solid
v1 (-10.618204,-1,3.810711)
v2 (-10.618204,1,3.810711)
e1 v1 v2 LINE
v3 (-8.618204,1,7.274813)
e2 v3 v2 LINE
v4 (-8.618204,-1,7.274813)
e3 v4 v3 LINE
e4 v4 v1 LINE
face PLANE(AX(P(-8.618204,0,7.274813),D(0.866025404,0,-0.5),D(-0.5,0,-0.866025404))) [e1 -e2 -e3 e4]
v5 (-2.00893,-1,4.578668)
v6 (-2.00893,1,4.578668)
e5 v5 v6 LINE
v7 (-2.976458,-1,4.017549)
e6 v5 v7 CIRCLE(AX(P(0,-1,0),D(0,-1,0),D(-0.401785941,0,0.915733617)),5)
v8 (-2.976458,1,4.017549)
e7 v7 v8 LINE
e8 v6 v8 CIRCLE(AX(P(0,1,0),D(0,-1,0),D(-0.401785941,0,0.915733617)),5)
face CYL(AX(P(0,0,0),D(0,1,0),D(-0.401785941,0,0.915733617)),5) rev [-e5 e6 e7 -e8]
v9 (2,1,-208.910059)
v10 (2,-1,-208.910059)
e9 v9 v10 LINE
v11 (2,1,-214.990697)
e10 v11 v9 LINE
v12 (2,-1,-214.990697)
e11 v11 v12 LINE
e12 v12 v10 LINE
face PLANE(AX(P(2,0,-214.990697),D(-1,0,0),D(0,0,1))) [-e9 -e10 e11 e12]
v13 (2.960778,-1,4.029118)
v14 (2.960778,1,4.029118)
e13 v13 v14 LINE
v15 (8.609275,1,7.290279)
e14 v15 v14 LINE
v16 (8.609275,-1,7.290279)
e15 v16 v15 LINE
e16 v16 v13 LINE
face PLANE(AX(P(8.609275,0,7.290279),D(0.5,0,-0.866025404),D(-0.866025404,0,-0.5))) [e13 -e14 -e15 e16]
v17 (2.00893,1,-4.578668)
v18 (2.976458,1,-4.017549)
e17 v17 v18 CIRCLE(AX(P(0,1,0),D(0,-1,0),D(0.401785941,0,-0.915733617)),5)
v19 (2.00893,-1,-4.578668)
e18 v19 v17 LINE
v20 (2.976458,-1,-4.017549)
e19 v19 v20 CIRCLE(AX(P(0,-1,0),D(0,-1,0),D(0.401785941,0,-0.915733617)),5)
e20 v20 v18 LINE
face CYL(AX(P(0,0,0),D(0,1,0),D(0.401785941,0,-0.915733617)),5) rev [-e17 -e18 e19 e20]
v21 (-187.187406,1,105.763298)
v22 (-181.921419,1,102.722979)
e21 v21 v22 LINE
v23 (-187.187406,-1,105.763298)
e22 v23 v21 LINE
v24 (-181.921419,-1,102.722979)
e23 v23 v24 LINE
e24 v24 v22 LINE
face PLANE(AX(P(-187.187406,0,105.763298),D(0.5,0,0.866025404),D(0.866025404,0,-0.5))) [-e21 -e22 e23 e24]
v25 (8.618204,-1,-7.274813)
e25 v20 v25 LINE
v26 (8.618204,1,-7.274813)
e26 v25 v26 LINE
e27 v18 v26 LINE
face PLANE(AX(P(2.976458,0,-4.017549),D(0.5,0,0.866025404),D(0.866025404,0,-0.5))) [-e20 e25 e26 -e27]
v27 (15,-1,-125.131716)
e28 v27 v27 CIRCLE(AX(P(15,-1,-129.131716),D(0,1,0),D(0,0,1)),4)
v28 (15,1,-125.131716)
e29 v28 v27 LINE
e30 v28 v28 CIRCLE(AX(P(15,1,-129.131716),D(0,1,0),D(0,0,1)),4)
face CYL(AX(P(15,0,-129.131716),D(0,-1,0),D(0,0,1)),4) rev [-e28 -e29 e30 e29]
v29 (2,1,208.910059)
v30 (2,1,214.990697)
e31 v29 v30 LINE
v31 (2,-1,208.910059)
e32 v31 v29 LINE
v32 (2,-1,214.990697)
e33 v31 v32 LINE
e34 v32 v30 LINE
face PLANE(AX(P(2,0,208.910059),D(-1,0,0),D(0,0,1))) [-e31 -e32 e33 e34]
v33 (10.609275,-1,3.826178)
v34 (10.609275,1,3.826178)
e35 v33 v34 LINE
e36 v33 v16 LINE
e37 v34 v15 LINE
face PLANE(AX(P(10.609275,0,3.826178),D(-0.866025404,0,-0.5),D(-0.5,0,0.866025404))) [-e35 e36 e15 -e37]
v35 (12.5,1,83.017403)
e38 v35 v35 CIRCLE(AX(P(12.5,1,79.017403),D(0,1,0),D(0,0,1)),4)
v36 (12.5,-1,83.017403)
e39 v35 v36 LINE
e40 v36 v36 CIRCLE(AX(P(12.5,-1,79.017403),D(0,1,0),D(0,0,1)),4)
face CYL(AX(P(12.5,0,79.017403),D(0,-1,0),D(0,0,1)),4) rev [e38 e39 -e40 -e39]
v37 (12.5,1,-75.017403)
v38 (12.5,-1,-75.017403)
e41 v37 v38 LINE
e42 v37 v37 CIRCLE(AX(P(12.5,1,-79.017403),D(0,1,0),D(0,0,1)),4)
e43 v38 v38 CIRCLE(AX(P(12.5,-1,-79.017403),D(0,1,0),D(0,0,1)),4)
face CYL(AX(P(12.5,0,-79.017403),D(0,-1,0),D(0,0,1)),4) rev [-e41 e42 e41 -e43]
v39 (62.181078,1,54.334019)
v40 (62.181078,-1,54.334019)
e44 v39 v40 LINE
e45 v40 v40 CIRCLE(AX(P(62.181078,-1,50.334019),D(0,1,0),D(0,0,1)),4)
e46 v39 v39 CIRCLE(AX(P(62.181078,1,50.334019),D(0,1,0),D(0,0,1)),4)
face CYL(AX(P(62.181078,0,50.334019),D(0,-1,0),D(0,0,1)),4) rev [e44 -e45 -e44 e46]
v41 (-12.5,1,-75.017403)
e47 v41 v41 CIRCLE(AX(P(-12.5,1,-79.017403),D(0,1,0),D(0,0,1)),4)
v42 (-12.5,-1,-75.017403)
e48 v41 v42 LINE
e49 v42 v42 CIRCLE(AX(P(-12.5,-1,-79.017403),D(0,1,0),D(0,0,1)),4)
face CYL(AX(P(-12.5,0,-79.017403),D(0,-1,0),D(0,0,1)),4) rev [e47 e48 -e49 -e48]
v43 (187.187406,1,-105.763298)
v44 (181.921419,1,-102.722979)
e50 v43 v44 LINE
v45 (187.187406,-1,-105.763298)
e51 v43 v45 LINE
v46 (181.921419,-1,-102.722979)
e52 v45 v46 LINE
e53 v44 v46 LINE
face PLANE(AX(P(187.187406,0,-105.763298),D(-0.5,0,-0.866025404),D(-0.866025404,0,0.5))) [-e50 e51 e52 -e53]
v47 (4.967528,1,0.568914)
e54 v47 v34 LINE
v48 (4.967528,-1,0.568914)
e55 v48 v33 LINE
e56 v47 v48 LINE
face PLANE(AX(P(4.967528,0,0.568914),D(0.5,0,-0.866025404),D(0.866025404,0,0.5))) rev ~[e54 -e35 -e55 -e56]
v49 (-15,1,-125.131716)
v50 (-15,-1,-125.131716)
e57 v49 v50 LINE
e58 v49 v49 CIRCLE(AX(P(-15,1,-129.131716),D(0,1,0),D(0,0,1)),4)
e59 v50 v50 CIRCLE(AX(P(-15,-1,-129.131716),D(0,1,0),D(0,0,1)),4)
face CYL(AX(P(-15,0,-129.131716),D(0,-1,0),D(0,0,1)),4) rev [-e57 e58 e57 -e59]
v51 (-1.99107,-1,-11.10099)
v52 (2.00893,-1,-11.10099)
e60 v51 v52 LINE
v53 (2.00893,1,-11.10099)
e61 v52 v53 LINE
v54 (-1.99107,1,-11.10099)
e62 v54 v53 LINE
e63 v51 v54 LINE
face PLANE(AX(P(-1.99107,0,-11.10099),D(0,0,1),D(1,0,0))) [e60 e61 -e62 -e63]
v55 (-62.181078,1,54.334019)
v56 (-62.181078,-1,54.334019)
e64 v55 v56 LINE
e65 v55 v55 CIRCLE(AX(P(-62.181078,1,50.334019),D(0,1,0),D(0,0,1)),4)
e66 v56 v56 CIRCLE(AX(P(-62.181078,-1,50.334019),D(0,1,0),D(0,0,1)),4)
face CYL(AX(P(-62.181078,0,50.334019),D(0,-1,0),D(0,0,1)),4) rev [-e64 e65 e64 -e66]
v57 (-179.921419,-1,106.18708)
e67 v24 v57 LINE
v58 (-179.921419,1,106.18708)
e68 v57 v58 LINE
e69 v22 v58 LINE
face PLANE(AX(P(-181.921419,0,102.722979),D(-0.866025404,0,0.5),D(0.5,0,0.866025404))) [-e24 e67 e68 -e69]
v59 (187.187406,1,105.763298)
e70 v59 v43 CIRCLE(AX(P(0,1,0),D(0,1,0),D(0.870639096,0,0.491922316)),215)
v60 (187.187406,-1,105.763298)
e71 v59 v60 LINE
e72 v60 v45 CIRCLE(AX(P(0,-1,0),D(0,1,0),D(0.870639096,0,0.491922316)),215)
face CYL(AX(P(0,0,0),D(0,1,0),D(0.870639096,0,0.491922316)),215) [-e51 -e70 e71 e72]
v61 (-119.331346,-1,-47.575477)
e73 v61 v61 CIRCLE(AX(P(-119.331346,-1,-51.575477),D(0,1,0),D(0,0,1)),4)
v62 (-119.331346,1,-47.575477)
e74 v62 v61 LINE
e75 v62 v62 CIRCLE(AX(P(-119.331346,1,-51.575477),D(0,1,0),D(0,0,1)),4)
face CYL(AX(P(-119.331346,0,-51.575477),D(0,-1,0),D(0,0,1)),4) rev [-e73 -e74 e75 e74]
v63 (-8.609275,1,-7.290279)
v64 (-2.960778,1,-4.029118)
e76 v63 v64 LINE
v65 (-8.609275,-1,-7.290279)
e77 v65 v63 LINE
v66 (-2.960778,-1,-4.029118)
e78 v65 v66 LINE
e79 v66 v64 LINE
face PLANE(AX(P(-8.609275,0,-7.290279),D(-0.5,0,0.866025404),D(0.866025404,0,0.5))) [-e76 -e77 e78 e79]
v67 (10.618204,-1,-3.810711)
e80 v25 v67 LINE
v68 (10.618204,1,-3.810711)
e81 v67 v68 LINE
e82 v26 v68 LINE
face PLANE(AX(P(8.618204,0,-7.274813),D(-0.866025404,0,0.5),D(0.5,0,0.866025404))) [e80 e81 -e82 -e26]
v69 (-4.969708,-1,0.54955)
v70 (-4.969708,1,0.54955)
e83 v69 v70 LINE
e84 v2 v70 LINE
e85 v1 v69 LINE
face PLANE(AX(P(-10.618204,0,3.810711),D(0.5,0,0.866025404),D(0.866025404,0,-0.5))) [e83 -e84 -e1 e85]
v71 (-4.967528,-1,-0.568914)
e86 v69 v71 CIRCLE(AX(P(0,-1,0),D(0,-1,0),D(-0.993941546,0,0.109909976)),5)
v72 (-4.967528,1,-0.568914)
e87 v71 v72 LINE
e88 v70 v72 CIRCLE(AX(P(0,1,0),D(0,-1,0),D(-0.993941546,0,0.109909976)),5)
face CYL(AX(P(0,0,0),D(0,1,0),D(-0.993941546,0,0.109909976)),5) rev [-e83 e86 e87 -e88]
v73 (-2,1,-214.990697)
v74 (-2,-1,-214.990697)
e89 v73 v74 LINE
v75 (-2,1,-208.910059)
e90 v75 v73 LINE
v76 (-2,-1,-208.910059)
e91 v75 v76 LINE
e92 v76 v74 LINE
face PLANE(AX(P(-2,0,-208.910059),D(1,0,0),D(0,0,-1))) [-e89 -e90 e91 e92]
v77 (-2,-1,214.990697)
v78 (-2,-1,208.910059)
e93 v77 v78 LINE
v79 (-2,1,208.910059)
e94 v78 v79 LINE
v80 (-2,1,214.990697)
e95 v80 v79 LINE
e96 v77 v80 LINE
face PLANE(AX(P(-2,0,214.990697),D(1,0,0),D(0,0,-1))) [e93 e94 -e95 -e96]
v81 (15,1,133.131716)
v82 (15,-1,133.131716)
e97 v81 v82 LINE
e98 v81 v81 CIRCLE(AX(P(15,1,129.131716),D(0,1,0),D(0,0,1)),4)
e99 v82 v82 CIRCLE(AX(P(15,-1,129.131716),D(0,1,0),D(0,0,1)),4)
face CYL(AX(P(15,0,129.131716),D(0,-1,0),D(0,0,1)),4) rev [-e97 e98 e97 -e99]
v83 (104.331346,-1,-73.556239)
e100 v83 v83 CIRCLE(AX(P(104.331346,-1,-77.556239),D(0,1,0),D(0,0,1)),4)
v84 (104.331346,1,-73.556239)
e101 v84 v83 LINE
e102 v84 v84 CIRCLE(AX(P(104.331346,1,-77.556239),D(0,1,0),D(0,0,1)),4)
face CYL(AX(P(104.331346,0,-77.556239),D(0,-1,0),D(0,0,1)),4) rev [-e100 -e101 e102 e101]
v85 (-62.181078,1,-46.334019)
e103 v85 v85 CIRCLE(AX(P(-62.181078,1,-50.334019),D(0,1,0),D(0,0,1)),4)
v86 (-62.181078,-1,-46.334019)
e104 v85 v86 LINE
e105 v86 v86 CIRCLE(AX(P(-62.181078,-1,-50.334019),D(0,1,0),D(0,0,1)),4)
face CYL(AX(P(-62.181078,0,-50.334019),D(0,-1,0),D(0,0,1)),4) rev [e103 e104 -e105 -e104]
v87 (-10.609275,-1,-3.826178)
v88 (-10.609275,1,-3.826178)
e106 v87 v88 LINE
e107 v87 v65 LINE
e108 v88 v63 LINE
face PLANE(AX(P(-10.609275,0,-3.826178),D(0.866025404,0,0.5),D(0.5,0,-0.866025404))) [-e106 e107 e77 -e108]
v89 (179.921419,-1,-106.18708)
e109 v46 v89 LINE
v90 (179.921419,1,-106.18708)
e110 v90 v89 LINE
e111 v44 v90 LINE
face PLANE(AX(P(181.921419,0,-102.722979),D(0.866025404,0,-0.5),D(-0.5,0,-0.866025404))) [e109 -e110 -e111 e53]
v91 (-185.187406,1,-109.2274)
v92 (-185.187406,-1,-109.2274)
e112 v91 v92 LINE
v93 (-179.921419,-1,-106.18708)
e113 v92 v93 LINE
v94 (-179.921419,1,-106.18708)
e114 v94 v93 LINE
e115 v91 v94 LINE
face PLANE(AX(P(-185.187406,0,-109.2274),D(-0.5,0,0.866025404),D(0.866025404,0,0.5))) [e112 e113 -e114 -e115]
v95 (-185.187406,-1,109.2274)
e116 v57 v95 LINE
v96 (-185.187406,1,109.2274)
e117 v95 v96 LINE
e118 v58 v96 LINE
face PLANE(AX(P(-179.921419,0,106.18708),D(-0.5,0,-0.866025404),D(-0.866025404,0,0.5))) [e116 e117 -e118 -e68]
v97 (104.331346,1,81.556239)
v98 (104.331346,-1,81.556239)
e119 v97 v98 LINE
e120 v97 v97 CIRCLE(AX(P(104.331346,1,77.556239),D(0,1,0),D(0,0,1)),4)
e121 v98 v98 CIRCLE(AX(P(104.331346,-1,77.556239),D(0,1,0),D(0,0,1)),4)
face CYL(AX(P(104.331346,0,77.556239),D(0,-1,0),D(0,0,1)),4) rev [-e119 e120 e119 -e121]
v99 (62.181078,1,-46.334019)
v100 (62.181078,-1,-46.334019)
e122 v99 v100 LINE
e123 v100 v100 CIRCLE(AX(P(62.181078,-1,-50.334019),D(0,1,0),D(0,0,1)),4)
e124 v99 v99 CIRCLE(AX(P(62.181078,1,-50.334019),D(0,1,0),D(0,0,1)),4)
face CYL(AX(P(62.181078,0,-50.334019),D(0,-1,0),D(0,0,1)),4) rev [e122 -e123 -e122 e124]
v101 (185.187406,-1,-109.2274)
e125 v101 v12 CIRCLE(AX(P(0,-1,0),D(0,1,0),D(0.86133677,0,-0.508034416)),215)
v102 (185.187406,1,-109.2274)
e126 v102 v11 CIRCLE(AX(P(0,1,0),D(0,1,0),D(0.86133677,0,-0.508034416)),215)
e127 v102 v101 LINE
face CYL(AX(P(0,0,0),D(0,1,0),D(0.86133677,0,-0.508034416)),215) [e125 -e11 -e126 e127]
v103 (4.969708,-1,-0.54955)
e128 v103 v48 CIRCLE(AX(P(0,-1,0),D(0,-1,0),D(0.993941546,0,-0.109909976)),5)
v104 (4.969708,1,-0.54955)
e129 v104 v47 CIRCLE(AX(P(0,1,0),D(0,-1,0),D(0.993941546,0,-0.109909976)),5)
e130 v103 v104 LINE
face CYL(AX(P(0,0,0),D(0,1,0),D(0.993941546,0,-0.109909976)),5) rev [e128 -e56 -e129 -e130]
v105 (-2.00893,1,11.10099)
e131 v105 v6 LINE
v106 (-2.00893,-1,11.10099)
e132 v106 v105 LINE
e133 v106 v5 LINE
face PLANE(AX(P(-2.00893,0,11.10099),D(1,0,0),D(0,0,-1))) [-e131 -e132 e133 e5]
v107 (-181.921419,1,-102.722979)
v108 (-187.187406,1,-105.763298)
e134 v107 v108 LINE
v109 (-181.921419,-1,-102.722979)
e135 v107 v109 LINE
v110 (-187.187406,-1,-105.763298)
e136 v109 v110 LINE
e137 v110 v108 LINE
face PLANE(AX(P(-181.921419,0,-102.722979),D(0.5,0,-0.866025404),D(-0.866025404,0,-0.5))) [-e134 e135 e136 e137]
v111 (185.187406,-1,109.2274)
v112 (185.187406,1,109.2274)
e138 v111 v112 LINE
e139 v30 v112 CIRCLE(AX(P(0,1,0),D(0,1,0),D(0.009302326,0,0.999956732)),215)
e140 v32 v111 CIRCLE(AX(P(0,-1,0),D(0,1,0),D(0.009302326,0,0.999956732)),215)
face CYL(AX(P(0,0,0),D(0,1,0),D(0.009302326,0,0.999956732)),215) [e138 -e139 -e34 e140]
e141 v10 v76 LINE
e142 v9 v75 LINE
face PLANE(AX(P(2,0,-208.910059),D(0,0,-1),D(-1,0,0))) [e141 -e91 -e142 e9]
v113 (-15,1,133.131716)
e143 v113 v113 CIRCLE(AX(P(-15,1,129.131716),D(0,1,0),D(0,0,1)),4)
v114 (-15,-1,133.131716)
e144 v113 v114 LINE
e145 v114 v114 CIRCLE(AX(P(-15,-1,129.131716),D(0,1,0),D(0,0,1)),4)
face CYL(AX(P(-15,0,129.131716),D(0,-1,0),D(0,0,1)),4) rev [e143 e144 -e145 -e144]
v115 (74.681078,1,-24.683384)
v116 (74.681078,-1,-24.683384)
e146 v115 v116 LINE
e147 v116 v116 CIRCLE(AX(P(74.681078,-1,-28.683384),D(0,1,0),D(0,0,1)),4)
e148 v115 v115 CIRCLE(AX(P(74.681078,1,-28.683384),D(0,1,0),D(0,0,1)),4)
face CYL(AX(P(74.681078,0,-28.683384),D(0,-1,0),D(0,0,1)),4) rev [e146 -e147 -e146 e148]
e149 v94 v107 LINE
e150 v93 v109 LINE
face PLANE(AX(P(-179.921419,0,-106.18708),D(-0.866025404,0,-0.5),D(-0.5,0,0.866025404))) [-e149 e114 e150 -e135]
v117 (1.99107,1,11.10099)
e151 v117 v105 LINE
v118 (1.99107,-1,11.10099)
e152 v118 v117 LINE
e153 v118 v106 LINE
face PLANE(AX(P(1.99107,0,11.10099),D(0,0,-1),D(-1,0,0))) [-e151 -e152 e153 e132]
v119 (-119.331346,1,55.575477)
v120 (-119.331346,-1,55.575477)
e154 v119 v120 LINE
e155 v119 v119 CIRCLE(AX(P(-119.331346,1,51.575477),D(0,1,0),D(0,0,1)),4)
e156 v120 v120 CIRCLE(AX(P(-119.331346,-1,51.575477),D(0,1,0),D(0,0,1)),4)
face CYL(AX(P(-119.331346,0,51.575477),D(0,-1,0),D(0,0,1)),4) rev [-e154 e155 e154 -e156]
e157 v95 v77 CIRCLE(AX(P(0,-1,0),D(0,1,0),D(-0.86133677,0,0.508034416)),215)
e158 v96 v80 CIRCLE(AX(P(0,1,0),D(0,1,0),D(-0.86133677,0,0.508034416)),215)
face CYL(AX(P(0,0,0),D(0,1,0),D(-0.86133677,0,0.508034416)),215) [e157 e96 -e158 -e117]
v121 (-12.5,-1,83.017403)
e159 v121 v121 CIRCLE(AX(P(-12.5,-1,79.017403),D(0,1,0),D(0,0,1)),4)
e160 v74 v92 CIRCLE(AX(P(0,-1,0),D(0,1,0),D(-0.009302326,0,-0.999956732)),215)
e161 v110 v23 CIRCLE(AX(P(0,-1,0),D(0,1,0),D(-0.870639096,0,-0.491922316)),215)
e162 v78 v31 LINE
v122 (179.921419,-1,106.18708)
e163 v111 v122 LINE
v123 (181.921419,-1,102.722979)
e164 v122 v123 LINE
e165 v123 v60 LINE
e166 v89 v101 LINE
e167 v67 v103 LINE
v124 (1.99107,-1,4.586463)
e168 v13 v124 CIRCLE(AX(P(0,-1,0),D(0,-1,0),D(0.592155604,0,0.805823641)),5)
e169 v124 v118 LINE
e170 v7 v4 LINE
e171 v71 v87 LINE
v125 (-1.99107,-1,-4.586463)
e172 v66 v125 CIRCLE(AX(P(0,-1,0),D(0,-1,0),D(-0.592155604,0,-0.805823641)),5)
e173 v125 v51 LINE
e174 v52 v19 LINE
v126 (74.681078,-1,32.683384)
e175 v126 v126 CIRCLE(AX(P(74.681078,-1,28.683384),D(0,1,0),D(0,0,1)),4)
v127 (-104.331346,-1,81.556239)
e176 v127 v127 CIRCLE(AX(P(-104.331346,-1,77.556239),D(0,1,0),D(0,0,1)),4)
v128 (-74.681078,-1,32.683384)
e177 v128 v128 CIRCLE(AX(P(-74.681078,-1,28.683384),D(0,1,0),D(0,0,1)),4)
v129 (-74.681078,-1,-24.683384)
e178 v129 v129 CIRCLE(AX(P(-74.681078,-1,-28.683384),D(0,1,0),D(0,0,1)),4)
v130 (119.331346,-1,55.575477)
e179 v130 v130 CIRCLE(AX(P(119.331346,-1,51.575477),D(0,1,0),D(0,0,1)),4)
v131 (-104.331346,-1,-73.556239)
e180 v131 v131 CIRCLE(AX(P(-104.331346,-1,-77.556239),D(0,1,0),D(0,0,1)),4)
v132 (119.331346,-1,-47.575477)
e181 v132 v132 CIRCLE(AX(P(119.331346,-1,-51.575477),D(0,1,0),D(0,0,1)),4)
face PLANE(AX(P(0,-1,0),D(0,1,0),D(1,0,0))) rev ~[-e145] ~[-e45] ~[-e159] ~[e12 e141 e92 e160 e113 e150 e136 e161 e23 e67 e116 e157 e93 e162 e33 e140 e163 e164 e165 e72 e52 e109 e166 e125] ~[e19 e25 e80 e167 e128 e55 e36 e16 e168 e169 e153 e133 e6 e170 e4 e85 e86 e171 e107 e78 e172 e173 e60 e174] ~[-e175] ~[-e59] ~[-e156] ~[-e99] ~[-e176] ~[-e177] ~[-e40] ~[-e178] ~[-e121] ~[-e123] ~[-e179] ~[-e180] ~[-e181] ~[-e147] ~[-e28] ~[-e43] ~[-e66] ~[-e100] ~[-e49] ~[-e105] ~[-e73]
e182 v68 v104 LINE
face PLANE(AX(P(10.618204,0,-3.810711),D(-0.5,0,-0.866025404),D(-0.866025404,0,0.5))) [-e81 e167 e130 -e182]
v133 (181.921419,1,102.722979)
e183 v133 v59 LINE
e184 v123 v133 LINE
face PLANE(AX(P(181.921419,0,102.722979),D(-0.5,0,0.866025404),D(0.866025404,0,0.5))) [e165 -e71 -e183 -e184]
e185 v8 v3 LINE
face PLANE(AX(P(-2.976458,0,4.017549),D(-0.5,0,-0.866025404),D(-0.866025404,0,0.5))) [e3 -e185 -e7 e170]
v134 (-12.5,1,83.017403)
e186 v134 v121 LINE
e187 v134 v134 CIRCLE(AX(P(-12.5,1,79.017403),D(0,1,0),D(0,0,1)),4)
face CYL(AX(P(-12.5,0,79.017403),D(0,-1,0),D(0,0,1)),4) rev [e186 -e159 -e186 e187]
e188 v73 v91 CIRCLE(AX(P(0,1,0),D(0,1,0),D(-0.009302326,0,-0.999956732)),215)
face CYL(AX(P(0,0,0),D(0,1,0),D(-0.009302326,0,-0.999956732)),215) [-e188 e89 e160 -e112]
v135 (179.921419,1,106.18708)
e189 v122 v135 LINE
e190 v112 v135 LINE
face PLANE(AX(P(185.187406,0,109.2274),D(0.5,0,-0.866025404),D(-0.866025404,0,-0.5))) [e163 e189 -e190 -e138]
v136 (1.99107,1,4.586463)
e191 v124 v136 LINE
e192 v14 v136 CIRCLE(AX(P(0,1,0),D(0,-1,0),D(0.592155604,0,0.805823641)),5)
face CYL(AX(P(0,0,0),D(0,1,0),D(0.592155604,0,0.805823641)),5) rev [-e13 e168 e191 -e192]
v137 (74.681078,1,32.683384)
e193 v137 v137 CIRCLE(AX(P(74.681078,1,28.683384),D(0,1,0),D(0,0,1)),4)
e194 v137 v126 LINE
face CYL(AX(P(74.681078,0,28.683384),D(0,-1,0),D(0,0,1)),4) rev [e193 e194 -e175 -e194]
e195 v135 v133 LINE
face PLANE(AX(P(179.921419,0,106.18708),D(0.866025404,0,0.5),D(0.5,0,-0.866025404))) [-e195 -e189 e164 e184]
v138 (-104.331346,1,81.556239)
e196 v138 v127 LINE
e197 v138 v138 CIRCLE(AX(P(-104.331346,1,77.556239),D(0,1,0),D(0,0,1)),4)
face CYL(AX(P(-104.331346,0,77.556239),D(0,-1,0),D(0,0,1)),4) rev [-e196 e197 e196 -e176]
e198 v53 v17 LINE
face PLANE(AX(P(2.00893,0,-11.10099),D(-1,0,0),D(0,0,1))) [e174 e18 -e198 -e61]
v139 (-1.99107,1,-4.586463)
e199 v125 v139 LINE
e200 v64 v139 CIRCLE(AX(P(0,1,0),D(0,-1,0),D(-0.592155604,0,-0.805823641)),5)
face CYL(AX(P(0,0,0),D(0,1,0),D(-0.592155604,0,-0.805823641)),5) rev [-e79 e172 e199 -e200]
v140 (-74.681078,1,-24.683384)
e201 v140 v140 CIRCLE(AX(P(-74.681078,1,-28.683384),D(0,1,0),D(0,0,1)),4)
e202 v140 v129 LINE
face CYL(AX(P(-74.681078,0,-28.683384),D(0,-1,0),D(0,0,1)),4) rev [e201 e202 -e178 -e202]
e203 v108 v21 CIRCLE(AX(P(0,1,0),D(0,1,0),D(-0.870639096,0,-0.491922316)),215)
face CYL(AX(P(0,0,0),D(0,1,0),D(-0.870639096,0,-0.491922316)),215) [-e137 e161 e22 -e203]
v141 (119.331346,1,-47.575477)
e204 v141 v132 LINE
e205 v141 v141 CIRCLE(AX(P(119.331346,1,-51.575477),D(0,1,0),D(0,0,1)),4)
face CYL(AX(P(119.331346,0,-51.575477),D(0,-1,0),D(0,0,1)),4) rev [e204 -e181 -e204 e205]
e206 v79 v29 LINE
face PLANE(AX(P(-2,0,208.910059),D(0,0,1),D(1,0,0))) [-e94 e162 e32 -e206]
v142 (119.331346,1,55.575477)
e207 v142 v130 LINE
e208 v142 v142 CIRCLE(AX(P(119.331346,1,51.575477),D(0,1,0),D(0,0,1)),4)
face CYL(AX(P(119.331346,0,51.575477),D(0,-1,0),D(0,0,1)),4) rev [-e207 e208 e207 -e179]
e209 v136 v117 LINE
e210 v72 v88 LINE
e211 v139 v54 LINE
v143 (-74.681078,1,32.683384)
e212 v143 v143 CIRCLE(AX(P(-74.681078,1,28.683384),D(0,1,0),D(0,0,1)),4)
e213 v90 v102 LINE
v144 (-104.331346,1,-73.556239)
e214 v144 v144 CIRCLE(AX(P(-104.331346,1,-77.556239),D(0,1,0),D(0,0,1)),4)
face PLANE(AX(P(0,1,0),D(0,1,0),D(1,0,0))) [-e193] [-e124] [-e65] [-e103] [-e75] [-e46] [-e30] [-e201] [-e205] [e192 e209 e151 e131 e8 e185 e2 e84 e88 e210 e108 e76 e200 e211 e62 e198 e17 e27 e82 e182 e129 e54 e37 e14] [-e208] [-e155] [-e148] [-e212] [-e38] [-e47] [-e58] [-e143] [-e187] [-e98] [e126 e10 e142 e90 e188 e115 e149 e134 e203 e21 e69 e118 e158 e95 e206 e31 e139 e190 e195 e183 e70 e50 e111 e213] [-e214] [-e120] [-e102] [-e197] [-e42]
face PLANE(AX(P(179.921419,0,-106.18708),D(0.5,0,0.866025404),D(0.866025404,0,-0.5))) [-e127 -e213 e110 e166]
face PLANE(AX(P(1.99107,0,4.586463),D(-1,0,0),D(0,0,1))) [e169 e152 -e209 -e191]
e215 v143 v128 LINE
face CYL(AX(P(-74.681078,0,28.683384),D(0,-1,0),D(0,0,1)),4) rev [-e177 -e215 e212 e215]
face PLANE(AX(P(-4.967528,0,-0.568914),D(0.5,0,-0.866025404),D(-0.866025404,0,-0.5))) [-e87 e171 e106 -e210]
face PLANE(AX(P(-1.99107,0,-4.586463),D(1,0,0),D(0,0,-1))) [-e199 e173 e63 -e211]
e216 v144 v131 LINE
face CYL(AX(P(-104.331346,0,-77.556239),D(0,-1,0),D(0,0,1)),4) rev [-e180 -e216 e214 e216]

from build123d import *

# Parameters (mm, degrees)
SKETCH1_R           = 4
BOSS_EXTRUDE1_DEPTH = 1


with BuildPart() as part:
    # Sketch1 → Boss-Extrude1 (new, symmetric)
    with BuildSketch(Plane(origin=(0, 0, 0), x_dir=(1, 0, 0), z_dir=(0, 1, 0))):
        with BuildLine():
            Line((-181.921418525, 102.72297888), (-187.187405589, 105.763297929))
            ThreePointArc((-187.187405589, 105.763297929), (-215, 0), (-187.187405589, -105.763297929))
            Line((-187.187405589, -105.763297929), (-181.921418525, -102.72297888))
            Line((-181.921418525, -102.72297888), (-179.921418525, -106.187080495))
            Line((-179.921418525, -106.187080495), (-185.187405589, -109.227399544))
            ThreePointArc((-185.187405589, -109.227399544), (-107.5, -186.195461814), (-2, -214.990697473))
            Line((-2, -214.990697473), (-2, -208.910059376))
            Line((-2, -208.910059376), (2, -208.910059376))
            Line((2, -208.910059376), (2, -214.990697473))
            ThreePointArc((2, -214.990697473), (107.5, -186.195461814), (185.187405589, -109.227399544))
            Line((185.187405589, -109.227399544), (179.921418525, -106.187080495))
            Line((179.921418525, -106.187080495), (181.921418525, -102.72297888))
            Line((181.921418525, -102.72297888), (187.187405589, -105.763297929))
            ThreePointArc((187.187405589, -105.763297929), (215, 0), (187.187405589, 105.763297929))
            Line((187.187405589, 105.763297929), (181.921418525, 102.72297888))
            Line((181.921418525, 102.72297888), (179.921418525, 106.187080495))
            Line((179.921418525, 106.187080495), (185.187405589, 109.227399544))
            ThreePointArc((185.187405589, 109.227399544), (107.5, 186.195461814), (2, 214.990697473))
            Line((2, 214.990697473), (2, 208.910059376))
            Line((2, 208.910059376), (-2, 208.910059376))
            Line((-2, 208.910059376), (-2, 214.990697473))
            ThreePointArc((-2, 214.990697473), (-107.5, 186.195461814), (-185.187405589, 109.227399544))
            Line((-185.187405589, 109.227399544), (-179.921418525, 106.187080495))
            Line((-179.921418525, 106.187080495), (-181.921418525, 102.72297888))
        make_face()
        with Locations(Location((-15, -129.131715701, 0), (0, 0, 270))):
            Circle(SKETCH1_R, mode=Mode.SUBTRACT)
        with Locations(Location((-119.331346232, -51.575476794, 0), (0, 0, 270))):
            Circle(SKETCH1_R, mode=Mode.SUBTRACT)
        with Locations(Location((-104.331346232, -77.556238907, 0), (0, 0, 270))):
            Circle(SKETCH1_R, mode=Mode.SUBTRACT)
        with Locations(Location((-12.5, -79.017403146, 0), (0, 0, 270))):
            Circle(SKETCH1_R, mode=Mode.SUBTRACT)
        with Locations(Location((-62.181078466, -50.334019121, 0), (0, 0, 270))):
            Circle(SKETCH1_R, mode=Mode.SUBTRACT)
        with Locations(Location((-74.681078466, -28.683384026, 0), (0, 0, 270))):
            Circle(SKETCH1_R, mode=Mode.SUBTRACT)
        with Locations(Location((15, -129.131715701, 0), (0, 0, 270))):
            Circle(SKETCH1_R, mode=Mode.SUBTRACT)
        with Locations(Location((12.5, -79.017403146, 0), (0, 0, 270))):
            Circle(SKETCH1_R, mode=Mode.SUBTRACT)
        with Locations(Location((104.331346232, -77.556238907, 0), (0, 0, 270))):
            Circle(SKETCH1_R, mode=Mode.SUBTRACT)
        with BuildLine():
            Line((-10.609274752, 3.826177687), (-8.609274752, 7.290279302))
            Line((-8.609274752, 7.290279302), (-2.96077803, 4.029118199))
            ThreePointArc((-2.96077803, 4.029118199), (-2.491557477, 4.33499035), (-1.9910703, 4.586462587))
            Line((-1.9910703, 4.586462587), (-1.9910703, 11.100990294))
            Line((-1.9910703, 11.100990294), (2.0089297, 11.100990294))
            Line((2.0089297, 11.100990294), (2.0089297, 4.578668088))
            ThreePointArc((2.0089297, 4.578668088), (2.50843303, 4.325247245), (2.976457964, 4.017548754))
            Line((2.976457964, 4.017548754), (8.618204452, 7.274812608))
            Line((8.618204452, 7.274812608), (10.618204452, 3.810710993))
            Line((10.618204452, 3.810710993), (4.96970773, 0.549549889))
            ThreePointArc((4.96970773, 0.549549889), (4.999990507, -0.009743105), (4.967528264, -0.568913833))
            Line((4.967528264, -0.568913833), (10.609274752, -3.826177687))
            Line((10.609274752, -3.826177687), (8.609274752, -7.290279302))
            Line((8.609274752, -7.290279302), (2.96077803, -4.029118199))
            ThreePointArc((2.96077803, -4.029118199), (2.491557477, -4.33499035), (1.9910703, -4.586462587))
            Line((1.9910703, -4.586462587), (1.9910703, -11.100990294))
            Line((1.9910703, -11.100990294), (-2.0089297, -11.100990294))
            Line((-2.0089297, -11.100990294), (-2.0089297, -4.578668088))
            ThreePointArc((-2.0089297, -4.578668088), (-2.50843303, -4.325247245), (-2.976457964, -4.017548754))
            Line((-2.976457964, -4.017548754), (-8.618204452, -7.274812608))
            Line((-8.618204452, -7.274812608), (-10.618204452, -3.810710993))
            Line((-10.618204452, -3.810710993), (-4.96970773, -0.549549889))
            ThreePointArc((-4.96970773, -0.549549889), (-4.999990507, 0.009743105), (-4.967528264, 0.568913833))
            Line((-4.967528264, 0.568913833), (-10.609274752, 3.826177687))
        make_face(mode=Mode.SUBTRACT)
        with Locations(Location((62.181078466, -50.334019121, 0), (0, 0, 270))):
            Circle(SKETCH1_R, mode=Mode.SUBTRACT)
        with Locations(Location((74.681078466, -28.683384026, 0), (0, 0, 270))):
            Circle(SKETCH1_R, mode=Mode.SUBTRACT)
        with Locations(Location((119.331346232, -51.575476794, 0), (0, 0, 270))):
            Circle(SKETCH1_R, mode=Mode.SUBTRACT)
        with Locations(Location((-119.331346232, 51.575476794, 0), (0, 0, 270))):
            Circle(SKETCH1_R, mode=Mode.SUBTRACT)
        with Locations(Location((-74.681078466, 28.683384026, 0), (0, 0, 270))):
            Circle(SKETCH1_R, mode=Mode.SUBTRACT)
        with Locations(Location((-62.181078466, 50.334019121, 0), (0, 0, 270))):
            Circle(SKETCH1_R, mode=Mode.SUBTRACT)
        with Locations(Location((-104.331346232, 77.556238907, 0), (0, 0, 270))):
            Circle(SKETCH1_R, mode=Mode.SUBTRACT)
        with Locations(Location((-12.5, 79.017403146, 0), (0, 0, 270))):
            Circle(SKETCH1_R, mode=Mode.SUBTRACT)
        with Locations(Location((-15, 129.131715701, 0), (0, 0, 270))):
            Circle(SKETCH1_R, mode=Mode.SUBTRACT)
        with Locations(Location((74.681078466, 28.683384026, 0), (0, 0, 270))):
            Circle(SKETCH1_R, mode=Mode.SUBTRACT)
        with Locations(Location((62.181078466, 50.334019121, 0), (0, 0, 270))):
            Circle(SKETCH1_R, mode=Mode.SUBTRACT)
        with Locations(Location((12.5, 79.017403146, 0), (0, 0, 270))):
            Circle(SKETCH1_R, mode=Mode.SUBTRACT)
        with Locations(Location((104.331346232, 77.556238907, 0), (0, 0, 270))):
            Circle(SKETCH1_R, mode=Mode.SUBTRACT)
        with Locations(Location((119.331346232, 51.575476794, 0), (0, 0, 270))):
            Circle(SKETCH1_R, mode=Mode.SUBTRACT)
        with Locations(Location((15, 129.131715701, 0), (0, 0, 270))):
            Circle(SKETCH1_R, mode=Mode.SUBTRACT)
    extrude(amount=BOSS_EXTRUDE1_DEPTH, both=True)


solid = part.part
